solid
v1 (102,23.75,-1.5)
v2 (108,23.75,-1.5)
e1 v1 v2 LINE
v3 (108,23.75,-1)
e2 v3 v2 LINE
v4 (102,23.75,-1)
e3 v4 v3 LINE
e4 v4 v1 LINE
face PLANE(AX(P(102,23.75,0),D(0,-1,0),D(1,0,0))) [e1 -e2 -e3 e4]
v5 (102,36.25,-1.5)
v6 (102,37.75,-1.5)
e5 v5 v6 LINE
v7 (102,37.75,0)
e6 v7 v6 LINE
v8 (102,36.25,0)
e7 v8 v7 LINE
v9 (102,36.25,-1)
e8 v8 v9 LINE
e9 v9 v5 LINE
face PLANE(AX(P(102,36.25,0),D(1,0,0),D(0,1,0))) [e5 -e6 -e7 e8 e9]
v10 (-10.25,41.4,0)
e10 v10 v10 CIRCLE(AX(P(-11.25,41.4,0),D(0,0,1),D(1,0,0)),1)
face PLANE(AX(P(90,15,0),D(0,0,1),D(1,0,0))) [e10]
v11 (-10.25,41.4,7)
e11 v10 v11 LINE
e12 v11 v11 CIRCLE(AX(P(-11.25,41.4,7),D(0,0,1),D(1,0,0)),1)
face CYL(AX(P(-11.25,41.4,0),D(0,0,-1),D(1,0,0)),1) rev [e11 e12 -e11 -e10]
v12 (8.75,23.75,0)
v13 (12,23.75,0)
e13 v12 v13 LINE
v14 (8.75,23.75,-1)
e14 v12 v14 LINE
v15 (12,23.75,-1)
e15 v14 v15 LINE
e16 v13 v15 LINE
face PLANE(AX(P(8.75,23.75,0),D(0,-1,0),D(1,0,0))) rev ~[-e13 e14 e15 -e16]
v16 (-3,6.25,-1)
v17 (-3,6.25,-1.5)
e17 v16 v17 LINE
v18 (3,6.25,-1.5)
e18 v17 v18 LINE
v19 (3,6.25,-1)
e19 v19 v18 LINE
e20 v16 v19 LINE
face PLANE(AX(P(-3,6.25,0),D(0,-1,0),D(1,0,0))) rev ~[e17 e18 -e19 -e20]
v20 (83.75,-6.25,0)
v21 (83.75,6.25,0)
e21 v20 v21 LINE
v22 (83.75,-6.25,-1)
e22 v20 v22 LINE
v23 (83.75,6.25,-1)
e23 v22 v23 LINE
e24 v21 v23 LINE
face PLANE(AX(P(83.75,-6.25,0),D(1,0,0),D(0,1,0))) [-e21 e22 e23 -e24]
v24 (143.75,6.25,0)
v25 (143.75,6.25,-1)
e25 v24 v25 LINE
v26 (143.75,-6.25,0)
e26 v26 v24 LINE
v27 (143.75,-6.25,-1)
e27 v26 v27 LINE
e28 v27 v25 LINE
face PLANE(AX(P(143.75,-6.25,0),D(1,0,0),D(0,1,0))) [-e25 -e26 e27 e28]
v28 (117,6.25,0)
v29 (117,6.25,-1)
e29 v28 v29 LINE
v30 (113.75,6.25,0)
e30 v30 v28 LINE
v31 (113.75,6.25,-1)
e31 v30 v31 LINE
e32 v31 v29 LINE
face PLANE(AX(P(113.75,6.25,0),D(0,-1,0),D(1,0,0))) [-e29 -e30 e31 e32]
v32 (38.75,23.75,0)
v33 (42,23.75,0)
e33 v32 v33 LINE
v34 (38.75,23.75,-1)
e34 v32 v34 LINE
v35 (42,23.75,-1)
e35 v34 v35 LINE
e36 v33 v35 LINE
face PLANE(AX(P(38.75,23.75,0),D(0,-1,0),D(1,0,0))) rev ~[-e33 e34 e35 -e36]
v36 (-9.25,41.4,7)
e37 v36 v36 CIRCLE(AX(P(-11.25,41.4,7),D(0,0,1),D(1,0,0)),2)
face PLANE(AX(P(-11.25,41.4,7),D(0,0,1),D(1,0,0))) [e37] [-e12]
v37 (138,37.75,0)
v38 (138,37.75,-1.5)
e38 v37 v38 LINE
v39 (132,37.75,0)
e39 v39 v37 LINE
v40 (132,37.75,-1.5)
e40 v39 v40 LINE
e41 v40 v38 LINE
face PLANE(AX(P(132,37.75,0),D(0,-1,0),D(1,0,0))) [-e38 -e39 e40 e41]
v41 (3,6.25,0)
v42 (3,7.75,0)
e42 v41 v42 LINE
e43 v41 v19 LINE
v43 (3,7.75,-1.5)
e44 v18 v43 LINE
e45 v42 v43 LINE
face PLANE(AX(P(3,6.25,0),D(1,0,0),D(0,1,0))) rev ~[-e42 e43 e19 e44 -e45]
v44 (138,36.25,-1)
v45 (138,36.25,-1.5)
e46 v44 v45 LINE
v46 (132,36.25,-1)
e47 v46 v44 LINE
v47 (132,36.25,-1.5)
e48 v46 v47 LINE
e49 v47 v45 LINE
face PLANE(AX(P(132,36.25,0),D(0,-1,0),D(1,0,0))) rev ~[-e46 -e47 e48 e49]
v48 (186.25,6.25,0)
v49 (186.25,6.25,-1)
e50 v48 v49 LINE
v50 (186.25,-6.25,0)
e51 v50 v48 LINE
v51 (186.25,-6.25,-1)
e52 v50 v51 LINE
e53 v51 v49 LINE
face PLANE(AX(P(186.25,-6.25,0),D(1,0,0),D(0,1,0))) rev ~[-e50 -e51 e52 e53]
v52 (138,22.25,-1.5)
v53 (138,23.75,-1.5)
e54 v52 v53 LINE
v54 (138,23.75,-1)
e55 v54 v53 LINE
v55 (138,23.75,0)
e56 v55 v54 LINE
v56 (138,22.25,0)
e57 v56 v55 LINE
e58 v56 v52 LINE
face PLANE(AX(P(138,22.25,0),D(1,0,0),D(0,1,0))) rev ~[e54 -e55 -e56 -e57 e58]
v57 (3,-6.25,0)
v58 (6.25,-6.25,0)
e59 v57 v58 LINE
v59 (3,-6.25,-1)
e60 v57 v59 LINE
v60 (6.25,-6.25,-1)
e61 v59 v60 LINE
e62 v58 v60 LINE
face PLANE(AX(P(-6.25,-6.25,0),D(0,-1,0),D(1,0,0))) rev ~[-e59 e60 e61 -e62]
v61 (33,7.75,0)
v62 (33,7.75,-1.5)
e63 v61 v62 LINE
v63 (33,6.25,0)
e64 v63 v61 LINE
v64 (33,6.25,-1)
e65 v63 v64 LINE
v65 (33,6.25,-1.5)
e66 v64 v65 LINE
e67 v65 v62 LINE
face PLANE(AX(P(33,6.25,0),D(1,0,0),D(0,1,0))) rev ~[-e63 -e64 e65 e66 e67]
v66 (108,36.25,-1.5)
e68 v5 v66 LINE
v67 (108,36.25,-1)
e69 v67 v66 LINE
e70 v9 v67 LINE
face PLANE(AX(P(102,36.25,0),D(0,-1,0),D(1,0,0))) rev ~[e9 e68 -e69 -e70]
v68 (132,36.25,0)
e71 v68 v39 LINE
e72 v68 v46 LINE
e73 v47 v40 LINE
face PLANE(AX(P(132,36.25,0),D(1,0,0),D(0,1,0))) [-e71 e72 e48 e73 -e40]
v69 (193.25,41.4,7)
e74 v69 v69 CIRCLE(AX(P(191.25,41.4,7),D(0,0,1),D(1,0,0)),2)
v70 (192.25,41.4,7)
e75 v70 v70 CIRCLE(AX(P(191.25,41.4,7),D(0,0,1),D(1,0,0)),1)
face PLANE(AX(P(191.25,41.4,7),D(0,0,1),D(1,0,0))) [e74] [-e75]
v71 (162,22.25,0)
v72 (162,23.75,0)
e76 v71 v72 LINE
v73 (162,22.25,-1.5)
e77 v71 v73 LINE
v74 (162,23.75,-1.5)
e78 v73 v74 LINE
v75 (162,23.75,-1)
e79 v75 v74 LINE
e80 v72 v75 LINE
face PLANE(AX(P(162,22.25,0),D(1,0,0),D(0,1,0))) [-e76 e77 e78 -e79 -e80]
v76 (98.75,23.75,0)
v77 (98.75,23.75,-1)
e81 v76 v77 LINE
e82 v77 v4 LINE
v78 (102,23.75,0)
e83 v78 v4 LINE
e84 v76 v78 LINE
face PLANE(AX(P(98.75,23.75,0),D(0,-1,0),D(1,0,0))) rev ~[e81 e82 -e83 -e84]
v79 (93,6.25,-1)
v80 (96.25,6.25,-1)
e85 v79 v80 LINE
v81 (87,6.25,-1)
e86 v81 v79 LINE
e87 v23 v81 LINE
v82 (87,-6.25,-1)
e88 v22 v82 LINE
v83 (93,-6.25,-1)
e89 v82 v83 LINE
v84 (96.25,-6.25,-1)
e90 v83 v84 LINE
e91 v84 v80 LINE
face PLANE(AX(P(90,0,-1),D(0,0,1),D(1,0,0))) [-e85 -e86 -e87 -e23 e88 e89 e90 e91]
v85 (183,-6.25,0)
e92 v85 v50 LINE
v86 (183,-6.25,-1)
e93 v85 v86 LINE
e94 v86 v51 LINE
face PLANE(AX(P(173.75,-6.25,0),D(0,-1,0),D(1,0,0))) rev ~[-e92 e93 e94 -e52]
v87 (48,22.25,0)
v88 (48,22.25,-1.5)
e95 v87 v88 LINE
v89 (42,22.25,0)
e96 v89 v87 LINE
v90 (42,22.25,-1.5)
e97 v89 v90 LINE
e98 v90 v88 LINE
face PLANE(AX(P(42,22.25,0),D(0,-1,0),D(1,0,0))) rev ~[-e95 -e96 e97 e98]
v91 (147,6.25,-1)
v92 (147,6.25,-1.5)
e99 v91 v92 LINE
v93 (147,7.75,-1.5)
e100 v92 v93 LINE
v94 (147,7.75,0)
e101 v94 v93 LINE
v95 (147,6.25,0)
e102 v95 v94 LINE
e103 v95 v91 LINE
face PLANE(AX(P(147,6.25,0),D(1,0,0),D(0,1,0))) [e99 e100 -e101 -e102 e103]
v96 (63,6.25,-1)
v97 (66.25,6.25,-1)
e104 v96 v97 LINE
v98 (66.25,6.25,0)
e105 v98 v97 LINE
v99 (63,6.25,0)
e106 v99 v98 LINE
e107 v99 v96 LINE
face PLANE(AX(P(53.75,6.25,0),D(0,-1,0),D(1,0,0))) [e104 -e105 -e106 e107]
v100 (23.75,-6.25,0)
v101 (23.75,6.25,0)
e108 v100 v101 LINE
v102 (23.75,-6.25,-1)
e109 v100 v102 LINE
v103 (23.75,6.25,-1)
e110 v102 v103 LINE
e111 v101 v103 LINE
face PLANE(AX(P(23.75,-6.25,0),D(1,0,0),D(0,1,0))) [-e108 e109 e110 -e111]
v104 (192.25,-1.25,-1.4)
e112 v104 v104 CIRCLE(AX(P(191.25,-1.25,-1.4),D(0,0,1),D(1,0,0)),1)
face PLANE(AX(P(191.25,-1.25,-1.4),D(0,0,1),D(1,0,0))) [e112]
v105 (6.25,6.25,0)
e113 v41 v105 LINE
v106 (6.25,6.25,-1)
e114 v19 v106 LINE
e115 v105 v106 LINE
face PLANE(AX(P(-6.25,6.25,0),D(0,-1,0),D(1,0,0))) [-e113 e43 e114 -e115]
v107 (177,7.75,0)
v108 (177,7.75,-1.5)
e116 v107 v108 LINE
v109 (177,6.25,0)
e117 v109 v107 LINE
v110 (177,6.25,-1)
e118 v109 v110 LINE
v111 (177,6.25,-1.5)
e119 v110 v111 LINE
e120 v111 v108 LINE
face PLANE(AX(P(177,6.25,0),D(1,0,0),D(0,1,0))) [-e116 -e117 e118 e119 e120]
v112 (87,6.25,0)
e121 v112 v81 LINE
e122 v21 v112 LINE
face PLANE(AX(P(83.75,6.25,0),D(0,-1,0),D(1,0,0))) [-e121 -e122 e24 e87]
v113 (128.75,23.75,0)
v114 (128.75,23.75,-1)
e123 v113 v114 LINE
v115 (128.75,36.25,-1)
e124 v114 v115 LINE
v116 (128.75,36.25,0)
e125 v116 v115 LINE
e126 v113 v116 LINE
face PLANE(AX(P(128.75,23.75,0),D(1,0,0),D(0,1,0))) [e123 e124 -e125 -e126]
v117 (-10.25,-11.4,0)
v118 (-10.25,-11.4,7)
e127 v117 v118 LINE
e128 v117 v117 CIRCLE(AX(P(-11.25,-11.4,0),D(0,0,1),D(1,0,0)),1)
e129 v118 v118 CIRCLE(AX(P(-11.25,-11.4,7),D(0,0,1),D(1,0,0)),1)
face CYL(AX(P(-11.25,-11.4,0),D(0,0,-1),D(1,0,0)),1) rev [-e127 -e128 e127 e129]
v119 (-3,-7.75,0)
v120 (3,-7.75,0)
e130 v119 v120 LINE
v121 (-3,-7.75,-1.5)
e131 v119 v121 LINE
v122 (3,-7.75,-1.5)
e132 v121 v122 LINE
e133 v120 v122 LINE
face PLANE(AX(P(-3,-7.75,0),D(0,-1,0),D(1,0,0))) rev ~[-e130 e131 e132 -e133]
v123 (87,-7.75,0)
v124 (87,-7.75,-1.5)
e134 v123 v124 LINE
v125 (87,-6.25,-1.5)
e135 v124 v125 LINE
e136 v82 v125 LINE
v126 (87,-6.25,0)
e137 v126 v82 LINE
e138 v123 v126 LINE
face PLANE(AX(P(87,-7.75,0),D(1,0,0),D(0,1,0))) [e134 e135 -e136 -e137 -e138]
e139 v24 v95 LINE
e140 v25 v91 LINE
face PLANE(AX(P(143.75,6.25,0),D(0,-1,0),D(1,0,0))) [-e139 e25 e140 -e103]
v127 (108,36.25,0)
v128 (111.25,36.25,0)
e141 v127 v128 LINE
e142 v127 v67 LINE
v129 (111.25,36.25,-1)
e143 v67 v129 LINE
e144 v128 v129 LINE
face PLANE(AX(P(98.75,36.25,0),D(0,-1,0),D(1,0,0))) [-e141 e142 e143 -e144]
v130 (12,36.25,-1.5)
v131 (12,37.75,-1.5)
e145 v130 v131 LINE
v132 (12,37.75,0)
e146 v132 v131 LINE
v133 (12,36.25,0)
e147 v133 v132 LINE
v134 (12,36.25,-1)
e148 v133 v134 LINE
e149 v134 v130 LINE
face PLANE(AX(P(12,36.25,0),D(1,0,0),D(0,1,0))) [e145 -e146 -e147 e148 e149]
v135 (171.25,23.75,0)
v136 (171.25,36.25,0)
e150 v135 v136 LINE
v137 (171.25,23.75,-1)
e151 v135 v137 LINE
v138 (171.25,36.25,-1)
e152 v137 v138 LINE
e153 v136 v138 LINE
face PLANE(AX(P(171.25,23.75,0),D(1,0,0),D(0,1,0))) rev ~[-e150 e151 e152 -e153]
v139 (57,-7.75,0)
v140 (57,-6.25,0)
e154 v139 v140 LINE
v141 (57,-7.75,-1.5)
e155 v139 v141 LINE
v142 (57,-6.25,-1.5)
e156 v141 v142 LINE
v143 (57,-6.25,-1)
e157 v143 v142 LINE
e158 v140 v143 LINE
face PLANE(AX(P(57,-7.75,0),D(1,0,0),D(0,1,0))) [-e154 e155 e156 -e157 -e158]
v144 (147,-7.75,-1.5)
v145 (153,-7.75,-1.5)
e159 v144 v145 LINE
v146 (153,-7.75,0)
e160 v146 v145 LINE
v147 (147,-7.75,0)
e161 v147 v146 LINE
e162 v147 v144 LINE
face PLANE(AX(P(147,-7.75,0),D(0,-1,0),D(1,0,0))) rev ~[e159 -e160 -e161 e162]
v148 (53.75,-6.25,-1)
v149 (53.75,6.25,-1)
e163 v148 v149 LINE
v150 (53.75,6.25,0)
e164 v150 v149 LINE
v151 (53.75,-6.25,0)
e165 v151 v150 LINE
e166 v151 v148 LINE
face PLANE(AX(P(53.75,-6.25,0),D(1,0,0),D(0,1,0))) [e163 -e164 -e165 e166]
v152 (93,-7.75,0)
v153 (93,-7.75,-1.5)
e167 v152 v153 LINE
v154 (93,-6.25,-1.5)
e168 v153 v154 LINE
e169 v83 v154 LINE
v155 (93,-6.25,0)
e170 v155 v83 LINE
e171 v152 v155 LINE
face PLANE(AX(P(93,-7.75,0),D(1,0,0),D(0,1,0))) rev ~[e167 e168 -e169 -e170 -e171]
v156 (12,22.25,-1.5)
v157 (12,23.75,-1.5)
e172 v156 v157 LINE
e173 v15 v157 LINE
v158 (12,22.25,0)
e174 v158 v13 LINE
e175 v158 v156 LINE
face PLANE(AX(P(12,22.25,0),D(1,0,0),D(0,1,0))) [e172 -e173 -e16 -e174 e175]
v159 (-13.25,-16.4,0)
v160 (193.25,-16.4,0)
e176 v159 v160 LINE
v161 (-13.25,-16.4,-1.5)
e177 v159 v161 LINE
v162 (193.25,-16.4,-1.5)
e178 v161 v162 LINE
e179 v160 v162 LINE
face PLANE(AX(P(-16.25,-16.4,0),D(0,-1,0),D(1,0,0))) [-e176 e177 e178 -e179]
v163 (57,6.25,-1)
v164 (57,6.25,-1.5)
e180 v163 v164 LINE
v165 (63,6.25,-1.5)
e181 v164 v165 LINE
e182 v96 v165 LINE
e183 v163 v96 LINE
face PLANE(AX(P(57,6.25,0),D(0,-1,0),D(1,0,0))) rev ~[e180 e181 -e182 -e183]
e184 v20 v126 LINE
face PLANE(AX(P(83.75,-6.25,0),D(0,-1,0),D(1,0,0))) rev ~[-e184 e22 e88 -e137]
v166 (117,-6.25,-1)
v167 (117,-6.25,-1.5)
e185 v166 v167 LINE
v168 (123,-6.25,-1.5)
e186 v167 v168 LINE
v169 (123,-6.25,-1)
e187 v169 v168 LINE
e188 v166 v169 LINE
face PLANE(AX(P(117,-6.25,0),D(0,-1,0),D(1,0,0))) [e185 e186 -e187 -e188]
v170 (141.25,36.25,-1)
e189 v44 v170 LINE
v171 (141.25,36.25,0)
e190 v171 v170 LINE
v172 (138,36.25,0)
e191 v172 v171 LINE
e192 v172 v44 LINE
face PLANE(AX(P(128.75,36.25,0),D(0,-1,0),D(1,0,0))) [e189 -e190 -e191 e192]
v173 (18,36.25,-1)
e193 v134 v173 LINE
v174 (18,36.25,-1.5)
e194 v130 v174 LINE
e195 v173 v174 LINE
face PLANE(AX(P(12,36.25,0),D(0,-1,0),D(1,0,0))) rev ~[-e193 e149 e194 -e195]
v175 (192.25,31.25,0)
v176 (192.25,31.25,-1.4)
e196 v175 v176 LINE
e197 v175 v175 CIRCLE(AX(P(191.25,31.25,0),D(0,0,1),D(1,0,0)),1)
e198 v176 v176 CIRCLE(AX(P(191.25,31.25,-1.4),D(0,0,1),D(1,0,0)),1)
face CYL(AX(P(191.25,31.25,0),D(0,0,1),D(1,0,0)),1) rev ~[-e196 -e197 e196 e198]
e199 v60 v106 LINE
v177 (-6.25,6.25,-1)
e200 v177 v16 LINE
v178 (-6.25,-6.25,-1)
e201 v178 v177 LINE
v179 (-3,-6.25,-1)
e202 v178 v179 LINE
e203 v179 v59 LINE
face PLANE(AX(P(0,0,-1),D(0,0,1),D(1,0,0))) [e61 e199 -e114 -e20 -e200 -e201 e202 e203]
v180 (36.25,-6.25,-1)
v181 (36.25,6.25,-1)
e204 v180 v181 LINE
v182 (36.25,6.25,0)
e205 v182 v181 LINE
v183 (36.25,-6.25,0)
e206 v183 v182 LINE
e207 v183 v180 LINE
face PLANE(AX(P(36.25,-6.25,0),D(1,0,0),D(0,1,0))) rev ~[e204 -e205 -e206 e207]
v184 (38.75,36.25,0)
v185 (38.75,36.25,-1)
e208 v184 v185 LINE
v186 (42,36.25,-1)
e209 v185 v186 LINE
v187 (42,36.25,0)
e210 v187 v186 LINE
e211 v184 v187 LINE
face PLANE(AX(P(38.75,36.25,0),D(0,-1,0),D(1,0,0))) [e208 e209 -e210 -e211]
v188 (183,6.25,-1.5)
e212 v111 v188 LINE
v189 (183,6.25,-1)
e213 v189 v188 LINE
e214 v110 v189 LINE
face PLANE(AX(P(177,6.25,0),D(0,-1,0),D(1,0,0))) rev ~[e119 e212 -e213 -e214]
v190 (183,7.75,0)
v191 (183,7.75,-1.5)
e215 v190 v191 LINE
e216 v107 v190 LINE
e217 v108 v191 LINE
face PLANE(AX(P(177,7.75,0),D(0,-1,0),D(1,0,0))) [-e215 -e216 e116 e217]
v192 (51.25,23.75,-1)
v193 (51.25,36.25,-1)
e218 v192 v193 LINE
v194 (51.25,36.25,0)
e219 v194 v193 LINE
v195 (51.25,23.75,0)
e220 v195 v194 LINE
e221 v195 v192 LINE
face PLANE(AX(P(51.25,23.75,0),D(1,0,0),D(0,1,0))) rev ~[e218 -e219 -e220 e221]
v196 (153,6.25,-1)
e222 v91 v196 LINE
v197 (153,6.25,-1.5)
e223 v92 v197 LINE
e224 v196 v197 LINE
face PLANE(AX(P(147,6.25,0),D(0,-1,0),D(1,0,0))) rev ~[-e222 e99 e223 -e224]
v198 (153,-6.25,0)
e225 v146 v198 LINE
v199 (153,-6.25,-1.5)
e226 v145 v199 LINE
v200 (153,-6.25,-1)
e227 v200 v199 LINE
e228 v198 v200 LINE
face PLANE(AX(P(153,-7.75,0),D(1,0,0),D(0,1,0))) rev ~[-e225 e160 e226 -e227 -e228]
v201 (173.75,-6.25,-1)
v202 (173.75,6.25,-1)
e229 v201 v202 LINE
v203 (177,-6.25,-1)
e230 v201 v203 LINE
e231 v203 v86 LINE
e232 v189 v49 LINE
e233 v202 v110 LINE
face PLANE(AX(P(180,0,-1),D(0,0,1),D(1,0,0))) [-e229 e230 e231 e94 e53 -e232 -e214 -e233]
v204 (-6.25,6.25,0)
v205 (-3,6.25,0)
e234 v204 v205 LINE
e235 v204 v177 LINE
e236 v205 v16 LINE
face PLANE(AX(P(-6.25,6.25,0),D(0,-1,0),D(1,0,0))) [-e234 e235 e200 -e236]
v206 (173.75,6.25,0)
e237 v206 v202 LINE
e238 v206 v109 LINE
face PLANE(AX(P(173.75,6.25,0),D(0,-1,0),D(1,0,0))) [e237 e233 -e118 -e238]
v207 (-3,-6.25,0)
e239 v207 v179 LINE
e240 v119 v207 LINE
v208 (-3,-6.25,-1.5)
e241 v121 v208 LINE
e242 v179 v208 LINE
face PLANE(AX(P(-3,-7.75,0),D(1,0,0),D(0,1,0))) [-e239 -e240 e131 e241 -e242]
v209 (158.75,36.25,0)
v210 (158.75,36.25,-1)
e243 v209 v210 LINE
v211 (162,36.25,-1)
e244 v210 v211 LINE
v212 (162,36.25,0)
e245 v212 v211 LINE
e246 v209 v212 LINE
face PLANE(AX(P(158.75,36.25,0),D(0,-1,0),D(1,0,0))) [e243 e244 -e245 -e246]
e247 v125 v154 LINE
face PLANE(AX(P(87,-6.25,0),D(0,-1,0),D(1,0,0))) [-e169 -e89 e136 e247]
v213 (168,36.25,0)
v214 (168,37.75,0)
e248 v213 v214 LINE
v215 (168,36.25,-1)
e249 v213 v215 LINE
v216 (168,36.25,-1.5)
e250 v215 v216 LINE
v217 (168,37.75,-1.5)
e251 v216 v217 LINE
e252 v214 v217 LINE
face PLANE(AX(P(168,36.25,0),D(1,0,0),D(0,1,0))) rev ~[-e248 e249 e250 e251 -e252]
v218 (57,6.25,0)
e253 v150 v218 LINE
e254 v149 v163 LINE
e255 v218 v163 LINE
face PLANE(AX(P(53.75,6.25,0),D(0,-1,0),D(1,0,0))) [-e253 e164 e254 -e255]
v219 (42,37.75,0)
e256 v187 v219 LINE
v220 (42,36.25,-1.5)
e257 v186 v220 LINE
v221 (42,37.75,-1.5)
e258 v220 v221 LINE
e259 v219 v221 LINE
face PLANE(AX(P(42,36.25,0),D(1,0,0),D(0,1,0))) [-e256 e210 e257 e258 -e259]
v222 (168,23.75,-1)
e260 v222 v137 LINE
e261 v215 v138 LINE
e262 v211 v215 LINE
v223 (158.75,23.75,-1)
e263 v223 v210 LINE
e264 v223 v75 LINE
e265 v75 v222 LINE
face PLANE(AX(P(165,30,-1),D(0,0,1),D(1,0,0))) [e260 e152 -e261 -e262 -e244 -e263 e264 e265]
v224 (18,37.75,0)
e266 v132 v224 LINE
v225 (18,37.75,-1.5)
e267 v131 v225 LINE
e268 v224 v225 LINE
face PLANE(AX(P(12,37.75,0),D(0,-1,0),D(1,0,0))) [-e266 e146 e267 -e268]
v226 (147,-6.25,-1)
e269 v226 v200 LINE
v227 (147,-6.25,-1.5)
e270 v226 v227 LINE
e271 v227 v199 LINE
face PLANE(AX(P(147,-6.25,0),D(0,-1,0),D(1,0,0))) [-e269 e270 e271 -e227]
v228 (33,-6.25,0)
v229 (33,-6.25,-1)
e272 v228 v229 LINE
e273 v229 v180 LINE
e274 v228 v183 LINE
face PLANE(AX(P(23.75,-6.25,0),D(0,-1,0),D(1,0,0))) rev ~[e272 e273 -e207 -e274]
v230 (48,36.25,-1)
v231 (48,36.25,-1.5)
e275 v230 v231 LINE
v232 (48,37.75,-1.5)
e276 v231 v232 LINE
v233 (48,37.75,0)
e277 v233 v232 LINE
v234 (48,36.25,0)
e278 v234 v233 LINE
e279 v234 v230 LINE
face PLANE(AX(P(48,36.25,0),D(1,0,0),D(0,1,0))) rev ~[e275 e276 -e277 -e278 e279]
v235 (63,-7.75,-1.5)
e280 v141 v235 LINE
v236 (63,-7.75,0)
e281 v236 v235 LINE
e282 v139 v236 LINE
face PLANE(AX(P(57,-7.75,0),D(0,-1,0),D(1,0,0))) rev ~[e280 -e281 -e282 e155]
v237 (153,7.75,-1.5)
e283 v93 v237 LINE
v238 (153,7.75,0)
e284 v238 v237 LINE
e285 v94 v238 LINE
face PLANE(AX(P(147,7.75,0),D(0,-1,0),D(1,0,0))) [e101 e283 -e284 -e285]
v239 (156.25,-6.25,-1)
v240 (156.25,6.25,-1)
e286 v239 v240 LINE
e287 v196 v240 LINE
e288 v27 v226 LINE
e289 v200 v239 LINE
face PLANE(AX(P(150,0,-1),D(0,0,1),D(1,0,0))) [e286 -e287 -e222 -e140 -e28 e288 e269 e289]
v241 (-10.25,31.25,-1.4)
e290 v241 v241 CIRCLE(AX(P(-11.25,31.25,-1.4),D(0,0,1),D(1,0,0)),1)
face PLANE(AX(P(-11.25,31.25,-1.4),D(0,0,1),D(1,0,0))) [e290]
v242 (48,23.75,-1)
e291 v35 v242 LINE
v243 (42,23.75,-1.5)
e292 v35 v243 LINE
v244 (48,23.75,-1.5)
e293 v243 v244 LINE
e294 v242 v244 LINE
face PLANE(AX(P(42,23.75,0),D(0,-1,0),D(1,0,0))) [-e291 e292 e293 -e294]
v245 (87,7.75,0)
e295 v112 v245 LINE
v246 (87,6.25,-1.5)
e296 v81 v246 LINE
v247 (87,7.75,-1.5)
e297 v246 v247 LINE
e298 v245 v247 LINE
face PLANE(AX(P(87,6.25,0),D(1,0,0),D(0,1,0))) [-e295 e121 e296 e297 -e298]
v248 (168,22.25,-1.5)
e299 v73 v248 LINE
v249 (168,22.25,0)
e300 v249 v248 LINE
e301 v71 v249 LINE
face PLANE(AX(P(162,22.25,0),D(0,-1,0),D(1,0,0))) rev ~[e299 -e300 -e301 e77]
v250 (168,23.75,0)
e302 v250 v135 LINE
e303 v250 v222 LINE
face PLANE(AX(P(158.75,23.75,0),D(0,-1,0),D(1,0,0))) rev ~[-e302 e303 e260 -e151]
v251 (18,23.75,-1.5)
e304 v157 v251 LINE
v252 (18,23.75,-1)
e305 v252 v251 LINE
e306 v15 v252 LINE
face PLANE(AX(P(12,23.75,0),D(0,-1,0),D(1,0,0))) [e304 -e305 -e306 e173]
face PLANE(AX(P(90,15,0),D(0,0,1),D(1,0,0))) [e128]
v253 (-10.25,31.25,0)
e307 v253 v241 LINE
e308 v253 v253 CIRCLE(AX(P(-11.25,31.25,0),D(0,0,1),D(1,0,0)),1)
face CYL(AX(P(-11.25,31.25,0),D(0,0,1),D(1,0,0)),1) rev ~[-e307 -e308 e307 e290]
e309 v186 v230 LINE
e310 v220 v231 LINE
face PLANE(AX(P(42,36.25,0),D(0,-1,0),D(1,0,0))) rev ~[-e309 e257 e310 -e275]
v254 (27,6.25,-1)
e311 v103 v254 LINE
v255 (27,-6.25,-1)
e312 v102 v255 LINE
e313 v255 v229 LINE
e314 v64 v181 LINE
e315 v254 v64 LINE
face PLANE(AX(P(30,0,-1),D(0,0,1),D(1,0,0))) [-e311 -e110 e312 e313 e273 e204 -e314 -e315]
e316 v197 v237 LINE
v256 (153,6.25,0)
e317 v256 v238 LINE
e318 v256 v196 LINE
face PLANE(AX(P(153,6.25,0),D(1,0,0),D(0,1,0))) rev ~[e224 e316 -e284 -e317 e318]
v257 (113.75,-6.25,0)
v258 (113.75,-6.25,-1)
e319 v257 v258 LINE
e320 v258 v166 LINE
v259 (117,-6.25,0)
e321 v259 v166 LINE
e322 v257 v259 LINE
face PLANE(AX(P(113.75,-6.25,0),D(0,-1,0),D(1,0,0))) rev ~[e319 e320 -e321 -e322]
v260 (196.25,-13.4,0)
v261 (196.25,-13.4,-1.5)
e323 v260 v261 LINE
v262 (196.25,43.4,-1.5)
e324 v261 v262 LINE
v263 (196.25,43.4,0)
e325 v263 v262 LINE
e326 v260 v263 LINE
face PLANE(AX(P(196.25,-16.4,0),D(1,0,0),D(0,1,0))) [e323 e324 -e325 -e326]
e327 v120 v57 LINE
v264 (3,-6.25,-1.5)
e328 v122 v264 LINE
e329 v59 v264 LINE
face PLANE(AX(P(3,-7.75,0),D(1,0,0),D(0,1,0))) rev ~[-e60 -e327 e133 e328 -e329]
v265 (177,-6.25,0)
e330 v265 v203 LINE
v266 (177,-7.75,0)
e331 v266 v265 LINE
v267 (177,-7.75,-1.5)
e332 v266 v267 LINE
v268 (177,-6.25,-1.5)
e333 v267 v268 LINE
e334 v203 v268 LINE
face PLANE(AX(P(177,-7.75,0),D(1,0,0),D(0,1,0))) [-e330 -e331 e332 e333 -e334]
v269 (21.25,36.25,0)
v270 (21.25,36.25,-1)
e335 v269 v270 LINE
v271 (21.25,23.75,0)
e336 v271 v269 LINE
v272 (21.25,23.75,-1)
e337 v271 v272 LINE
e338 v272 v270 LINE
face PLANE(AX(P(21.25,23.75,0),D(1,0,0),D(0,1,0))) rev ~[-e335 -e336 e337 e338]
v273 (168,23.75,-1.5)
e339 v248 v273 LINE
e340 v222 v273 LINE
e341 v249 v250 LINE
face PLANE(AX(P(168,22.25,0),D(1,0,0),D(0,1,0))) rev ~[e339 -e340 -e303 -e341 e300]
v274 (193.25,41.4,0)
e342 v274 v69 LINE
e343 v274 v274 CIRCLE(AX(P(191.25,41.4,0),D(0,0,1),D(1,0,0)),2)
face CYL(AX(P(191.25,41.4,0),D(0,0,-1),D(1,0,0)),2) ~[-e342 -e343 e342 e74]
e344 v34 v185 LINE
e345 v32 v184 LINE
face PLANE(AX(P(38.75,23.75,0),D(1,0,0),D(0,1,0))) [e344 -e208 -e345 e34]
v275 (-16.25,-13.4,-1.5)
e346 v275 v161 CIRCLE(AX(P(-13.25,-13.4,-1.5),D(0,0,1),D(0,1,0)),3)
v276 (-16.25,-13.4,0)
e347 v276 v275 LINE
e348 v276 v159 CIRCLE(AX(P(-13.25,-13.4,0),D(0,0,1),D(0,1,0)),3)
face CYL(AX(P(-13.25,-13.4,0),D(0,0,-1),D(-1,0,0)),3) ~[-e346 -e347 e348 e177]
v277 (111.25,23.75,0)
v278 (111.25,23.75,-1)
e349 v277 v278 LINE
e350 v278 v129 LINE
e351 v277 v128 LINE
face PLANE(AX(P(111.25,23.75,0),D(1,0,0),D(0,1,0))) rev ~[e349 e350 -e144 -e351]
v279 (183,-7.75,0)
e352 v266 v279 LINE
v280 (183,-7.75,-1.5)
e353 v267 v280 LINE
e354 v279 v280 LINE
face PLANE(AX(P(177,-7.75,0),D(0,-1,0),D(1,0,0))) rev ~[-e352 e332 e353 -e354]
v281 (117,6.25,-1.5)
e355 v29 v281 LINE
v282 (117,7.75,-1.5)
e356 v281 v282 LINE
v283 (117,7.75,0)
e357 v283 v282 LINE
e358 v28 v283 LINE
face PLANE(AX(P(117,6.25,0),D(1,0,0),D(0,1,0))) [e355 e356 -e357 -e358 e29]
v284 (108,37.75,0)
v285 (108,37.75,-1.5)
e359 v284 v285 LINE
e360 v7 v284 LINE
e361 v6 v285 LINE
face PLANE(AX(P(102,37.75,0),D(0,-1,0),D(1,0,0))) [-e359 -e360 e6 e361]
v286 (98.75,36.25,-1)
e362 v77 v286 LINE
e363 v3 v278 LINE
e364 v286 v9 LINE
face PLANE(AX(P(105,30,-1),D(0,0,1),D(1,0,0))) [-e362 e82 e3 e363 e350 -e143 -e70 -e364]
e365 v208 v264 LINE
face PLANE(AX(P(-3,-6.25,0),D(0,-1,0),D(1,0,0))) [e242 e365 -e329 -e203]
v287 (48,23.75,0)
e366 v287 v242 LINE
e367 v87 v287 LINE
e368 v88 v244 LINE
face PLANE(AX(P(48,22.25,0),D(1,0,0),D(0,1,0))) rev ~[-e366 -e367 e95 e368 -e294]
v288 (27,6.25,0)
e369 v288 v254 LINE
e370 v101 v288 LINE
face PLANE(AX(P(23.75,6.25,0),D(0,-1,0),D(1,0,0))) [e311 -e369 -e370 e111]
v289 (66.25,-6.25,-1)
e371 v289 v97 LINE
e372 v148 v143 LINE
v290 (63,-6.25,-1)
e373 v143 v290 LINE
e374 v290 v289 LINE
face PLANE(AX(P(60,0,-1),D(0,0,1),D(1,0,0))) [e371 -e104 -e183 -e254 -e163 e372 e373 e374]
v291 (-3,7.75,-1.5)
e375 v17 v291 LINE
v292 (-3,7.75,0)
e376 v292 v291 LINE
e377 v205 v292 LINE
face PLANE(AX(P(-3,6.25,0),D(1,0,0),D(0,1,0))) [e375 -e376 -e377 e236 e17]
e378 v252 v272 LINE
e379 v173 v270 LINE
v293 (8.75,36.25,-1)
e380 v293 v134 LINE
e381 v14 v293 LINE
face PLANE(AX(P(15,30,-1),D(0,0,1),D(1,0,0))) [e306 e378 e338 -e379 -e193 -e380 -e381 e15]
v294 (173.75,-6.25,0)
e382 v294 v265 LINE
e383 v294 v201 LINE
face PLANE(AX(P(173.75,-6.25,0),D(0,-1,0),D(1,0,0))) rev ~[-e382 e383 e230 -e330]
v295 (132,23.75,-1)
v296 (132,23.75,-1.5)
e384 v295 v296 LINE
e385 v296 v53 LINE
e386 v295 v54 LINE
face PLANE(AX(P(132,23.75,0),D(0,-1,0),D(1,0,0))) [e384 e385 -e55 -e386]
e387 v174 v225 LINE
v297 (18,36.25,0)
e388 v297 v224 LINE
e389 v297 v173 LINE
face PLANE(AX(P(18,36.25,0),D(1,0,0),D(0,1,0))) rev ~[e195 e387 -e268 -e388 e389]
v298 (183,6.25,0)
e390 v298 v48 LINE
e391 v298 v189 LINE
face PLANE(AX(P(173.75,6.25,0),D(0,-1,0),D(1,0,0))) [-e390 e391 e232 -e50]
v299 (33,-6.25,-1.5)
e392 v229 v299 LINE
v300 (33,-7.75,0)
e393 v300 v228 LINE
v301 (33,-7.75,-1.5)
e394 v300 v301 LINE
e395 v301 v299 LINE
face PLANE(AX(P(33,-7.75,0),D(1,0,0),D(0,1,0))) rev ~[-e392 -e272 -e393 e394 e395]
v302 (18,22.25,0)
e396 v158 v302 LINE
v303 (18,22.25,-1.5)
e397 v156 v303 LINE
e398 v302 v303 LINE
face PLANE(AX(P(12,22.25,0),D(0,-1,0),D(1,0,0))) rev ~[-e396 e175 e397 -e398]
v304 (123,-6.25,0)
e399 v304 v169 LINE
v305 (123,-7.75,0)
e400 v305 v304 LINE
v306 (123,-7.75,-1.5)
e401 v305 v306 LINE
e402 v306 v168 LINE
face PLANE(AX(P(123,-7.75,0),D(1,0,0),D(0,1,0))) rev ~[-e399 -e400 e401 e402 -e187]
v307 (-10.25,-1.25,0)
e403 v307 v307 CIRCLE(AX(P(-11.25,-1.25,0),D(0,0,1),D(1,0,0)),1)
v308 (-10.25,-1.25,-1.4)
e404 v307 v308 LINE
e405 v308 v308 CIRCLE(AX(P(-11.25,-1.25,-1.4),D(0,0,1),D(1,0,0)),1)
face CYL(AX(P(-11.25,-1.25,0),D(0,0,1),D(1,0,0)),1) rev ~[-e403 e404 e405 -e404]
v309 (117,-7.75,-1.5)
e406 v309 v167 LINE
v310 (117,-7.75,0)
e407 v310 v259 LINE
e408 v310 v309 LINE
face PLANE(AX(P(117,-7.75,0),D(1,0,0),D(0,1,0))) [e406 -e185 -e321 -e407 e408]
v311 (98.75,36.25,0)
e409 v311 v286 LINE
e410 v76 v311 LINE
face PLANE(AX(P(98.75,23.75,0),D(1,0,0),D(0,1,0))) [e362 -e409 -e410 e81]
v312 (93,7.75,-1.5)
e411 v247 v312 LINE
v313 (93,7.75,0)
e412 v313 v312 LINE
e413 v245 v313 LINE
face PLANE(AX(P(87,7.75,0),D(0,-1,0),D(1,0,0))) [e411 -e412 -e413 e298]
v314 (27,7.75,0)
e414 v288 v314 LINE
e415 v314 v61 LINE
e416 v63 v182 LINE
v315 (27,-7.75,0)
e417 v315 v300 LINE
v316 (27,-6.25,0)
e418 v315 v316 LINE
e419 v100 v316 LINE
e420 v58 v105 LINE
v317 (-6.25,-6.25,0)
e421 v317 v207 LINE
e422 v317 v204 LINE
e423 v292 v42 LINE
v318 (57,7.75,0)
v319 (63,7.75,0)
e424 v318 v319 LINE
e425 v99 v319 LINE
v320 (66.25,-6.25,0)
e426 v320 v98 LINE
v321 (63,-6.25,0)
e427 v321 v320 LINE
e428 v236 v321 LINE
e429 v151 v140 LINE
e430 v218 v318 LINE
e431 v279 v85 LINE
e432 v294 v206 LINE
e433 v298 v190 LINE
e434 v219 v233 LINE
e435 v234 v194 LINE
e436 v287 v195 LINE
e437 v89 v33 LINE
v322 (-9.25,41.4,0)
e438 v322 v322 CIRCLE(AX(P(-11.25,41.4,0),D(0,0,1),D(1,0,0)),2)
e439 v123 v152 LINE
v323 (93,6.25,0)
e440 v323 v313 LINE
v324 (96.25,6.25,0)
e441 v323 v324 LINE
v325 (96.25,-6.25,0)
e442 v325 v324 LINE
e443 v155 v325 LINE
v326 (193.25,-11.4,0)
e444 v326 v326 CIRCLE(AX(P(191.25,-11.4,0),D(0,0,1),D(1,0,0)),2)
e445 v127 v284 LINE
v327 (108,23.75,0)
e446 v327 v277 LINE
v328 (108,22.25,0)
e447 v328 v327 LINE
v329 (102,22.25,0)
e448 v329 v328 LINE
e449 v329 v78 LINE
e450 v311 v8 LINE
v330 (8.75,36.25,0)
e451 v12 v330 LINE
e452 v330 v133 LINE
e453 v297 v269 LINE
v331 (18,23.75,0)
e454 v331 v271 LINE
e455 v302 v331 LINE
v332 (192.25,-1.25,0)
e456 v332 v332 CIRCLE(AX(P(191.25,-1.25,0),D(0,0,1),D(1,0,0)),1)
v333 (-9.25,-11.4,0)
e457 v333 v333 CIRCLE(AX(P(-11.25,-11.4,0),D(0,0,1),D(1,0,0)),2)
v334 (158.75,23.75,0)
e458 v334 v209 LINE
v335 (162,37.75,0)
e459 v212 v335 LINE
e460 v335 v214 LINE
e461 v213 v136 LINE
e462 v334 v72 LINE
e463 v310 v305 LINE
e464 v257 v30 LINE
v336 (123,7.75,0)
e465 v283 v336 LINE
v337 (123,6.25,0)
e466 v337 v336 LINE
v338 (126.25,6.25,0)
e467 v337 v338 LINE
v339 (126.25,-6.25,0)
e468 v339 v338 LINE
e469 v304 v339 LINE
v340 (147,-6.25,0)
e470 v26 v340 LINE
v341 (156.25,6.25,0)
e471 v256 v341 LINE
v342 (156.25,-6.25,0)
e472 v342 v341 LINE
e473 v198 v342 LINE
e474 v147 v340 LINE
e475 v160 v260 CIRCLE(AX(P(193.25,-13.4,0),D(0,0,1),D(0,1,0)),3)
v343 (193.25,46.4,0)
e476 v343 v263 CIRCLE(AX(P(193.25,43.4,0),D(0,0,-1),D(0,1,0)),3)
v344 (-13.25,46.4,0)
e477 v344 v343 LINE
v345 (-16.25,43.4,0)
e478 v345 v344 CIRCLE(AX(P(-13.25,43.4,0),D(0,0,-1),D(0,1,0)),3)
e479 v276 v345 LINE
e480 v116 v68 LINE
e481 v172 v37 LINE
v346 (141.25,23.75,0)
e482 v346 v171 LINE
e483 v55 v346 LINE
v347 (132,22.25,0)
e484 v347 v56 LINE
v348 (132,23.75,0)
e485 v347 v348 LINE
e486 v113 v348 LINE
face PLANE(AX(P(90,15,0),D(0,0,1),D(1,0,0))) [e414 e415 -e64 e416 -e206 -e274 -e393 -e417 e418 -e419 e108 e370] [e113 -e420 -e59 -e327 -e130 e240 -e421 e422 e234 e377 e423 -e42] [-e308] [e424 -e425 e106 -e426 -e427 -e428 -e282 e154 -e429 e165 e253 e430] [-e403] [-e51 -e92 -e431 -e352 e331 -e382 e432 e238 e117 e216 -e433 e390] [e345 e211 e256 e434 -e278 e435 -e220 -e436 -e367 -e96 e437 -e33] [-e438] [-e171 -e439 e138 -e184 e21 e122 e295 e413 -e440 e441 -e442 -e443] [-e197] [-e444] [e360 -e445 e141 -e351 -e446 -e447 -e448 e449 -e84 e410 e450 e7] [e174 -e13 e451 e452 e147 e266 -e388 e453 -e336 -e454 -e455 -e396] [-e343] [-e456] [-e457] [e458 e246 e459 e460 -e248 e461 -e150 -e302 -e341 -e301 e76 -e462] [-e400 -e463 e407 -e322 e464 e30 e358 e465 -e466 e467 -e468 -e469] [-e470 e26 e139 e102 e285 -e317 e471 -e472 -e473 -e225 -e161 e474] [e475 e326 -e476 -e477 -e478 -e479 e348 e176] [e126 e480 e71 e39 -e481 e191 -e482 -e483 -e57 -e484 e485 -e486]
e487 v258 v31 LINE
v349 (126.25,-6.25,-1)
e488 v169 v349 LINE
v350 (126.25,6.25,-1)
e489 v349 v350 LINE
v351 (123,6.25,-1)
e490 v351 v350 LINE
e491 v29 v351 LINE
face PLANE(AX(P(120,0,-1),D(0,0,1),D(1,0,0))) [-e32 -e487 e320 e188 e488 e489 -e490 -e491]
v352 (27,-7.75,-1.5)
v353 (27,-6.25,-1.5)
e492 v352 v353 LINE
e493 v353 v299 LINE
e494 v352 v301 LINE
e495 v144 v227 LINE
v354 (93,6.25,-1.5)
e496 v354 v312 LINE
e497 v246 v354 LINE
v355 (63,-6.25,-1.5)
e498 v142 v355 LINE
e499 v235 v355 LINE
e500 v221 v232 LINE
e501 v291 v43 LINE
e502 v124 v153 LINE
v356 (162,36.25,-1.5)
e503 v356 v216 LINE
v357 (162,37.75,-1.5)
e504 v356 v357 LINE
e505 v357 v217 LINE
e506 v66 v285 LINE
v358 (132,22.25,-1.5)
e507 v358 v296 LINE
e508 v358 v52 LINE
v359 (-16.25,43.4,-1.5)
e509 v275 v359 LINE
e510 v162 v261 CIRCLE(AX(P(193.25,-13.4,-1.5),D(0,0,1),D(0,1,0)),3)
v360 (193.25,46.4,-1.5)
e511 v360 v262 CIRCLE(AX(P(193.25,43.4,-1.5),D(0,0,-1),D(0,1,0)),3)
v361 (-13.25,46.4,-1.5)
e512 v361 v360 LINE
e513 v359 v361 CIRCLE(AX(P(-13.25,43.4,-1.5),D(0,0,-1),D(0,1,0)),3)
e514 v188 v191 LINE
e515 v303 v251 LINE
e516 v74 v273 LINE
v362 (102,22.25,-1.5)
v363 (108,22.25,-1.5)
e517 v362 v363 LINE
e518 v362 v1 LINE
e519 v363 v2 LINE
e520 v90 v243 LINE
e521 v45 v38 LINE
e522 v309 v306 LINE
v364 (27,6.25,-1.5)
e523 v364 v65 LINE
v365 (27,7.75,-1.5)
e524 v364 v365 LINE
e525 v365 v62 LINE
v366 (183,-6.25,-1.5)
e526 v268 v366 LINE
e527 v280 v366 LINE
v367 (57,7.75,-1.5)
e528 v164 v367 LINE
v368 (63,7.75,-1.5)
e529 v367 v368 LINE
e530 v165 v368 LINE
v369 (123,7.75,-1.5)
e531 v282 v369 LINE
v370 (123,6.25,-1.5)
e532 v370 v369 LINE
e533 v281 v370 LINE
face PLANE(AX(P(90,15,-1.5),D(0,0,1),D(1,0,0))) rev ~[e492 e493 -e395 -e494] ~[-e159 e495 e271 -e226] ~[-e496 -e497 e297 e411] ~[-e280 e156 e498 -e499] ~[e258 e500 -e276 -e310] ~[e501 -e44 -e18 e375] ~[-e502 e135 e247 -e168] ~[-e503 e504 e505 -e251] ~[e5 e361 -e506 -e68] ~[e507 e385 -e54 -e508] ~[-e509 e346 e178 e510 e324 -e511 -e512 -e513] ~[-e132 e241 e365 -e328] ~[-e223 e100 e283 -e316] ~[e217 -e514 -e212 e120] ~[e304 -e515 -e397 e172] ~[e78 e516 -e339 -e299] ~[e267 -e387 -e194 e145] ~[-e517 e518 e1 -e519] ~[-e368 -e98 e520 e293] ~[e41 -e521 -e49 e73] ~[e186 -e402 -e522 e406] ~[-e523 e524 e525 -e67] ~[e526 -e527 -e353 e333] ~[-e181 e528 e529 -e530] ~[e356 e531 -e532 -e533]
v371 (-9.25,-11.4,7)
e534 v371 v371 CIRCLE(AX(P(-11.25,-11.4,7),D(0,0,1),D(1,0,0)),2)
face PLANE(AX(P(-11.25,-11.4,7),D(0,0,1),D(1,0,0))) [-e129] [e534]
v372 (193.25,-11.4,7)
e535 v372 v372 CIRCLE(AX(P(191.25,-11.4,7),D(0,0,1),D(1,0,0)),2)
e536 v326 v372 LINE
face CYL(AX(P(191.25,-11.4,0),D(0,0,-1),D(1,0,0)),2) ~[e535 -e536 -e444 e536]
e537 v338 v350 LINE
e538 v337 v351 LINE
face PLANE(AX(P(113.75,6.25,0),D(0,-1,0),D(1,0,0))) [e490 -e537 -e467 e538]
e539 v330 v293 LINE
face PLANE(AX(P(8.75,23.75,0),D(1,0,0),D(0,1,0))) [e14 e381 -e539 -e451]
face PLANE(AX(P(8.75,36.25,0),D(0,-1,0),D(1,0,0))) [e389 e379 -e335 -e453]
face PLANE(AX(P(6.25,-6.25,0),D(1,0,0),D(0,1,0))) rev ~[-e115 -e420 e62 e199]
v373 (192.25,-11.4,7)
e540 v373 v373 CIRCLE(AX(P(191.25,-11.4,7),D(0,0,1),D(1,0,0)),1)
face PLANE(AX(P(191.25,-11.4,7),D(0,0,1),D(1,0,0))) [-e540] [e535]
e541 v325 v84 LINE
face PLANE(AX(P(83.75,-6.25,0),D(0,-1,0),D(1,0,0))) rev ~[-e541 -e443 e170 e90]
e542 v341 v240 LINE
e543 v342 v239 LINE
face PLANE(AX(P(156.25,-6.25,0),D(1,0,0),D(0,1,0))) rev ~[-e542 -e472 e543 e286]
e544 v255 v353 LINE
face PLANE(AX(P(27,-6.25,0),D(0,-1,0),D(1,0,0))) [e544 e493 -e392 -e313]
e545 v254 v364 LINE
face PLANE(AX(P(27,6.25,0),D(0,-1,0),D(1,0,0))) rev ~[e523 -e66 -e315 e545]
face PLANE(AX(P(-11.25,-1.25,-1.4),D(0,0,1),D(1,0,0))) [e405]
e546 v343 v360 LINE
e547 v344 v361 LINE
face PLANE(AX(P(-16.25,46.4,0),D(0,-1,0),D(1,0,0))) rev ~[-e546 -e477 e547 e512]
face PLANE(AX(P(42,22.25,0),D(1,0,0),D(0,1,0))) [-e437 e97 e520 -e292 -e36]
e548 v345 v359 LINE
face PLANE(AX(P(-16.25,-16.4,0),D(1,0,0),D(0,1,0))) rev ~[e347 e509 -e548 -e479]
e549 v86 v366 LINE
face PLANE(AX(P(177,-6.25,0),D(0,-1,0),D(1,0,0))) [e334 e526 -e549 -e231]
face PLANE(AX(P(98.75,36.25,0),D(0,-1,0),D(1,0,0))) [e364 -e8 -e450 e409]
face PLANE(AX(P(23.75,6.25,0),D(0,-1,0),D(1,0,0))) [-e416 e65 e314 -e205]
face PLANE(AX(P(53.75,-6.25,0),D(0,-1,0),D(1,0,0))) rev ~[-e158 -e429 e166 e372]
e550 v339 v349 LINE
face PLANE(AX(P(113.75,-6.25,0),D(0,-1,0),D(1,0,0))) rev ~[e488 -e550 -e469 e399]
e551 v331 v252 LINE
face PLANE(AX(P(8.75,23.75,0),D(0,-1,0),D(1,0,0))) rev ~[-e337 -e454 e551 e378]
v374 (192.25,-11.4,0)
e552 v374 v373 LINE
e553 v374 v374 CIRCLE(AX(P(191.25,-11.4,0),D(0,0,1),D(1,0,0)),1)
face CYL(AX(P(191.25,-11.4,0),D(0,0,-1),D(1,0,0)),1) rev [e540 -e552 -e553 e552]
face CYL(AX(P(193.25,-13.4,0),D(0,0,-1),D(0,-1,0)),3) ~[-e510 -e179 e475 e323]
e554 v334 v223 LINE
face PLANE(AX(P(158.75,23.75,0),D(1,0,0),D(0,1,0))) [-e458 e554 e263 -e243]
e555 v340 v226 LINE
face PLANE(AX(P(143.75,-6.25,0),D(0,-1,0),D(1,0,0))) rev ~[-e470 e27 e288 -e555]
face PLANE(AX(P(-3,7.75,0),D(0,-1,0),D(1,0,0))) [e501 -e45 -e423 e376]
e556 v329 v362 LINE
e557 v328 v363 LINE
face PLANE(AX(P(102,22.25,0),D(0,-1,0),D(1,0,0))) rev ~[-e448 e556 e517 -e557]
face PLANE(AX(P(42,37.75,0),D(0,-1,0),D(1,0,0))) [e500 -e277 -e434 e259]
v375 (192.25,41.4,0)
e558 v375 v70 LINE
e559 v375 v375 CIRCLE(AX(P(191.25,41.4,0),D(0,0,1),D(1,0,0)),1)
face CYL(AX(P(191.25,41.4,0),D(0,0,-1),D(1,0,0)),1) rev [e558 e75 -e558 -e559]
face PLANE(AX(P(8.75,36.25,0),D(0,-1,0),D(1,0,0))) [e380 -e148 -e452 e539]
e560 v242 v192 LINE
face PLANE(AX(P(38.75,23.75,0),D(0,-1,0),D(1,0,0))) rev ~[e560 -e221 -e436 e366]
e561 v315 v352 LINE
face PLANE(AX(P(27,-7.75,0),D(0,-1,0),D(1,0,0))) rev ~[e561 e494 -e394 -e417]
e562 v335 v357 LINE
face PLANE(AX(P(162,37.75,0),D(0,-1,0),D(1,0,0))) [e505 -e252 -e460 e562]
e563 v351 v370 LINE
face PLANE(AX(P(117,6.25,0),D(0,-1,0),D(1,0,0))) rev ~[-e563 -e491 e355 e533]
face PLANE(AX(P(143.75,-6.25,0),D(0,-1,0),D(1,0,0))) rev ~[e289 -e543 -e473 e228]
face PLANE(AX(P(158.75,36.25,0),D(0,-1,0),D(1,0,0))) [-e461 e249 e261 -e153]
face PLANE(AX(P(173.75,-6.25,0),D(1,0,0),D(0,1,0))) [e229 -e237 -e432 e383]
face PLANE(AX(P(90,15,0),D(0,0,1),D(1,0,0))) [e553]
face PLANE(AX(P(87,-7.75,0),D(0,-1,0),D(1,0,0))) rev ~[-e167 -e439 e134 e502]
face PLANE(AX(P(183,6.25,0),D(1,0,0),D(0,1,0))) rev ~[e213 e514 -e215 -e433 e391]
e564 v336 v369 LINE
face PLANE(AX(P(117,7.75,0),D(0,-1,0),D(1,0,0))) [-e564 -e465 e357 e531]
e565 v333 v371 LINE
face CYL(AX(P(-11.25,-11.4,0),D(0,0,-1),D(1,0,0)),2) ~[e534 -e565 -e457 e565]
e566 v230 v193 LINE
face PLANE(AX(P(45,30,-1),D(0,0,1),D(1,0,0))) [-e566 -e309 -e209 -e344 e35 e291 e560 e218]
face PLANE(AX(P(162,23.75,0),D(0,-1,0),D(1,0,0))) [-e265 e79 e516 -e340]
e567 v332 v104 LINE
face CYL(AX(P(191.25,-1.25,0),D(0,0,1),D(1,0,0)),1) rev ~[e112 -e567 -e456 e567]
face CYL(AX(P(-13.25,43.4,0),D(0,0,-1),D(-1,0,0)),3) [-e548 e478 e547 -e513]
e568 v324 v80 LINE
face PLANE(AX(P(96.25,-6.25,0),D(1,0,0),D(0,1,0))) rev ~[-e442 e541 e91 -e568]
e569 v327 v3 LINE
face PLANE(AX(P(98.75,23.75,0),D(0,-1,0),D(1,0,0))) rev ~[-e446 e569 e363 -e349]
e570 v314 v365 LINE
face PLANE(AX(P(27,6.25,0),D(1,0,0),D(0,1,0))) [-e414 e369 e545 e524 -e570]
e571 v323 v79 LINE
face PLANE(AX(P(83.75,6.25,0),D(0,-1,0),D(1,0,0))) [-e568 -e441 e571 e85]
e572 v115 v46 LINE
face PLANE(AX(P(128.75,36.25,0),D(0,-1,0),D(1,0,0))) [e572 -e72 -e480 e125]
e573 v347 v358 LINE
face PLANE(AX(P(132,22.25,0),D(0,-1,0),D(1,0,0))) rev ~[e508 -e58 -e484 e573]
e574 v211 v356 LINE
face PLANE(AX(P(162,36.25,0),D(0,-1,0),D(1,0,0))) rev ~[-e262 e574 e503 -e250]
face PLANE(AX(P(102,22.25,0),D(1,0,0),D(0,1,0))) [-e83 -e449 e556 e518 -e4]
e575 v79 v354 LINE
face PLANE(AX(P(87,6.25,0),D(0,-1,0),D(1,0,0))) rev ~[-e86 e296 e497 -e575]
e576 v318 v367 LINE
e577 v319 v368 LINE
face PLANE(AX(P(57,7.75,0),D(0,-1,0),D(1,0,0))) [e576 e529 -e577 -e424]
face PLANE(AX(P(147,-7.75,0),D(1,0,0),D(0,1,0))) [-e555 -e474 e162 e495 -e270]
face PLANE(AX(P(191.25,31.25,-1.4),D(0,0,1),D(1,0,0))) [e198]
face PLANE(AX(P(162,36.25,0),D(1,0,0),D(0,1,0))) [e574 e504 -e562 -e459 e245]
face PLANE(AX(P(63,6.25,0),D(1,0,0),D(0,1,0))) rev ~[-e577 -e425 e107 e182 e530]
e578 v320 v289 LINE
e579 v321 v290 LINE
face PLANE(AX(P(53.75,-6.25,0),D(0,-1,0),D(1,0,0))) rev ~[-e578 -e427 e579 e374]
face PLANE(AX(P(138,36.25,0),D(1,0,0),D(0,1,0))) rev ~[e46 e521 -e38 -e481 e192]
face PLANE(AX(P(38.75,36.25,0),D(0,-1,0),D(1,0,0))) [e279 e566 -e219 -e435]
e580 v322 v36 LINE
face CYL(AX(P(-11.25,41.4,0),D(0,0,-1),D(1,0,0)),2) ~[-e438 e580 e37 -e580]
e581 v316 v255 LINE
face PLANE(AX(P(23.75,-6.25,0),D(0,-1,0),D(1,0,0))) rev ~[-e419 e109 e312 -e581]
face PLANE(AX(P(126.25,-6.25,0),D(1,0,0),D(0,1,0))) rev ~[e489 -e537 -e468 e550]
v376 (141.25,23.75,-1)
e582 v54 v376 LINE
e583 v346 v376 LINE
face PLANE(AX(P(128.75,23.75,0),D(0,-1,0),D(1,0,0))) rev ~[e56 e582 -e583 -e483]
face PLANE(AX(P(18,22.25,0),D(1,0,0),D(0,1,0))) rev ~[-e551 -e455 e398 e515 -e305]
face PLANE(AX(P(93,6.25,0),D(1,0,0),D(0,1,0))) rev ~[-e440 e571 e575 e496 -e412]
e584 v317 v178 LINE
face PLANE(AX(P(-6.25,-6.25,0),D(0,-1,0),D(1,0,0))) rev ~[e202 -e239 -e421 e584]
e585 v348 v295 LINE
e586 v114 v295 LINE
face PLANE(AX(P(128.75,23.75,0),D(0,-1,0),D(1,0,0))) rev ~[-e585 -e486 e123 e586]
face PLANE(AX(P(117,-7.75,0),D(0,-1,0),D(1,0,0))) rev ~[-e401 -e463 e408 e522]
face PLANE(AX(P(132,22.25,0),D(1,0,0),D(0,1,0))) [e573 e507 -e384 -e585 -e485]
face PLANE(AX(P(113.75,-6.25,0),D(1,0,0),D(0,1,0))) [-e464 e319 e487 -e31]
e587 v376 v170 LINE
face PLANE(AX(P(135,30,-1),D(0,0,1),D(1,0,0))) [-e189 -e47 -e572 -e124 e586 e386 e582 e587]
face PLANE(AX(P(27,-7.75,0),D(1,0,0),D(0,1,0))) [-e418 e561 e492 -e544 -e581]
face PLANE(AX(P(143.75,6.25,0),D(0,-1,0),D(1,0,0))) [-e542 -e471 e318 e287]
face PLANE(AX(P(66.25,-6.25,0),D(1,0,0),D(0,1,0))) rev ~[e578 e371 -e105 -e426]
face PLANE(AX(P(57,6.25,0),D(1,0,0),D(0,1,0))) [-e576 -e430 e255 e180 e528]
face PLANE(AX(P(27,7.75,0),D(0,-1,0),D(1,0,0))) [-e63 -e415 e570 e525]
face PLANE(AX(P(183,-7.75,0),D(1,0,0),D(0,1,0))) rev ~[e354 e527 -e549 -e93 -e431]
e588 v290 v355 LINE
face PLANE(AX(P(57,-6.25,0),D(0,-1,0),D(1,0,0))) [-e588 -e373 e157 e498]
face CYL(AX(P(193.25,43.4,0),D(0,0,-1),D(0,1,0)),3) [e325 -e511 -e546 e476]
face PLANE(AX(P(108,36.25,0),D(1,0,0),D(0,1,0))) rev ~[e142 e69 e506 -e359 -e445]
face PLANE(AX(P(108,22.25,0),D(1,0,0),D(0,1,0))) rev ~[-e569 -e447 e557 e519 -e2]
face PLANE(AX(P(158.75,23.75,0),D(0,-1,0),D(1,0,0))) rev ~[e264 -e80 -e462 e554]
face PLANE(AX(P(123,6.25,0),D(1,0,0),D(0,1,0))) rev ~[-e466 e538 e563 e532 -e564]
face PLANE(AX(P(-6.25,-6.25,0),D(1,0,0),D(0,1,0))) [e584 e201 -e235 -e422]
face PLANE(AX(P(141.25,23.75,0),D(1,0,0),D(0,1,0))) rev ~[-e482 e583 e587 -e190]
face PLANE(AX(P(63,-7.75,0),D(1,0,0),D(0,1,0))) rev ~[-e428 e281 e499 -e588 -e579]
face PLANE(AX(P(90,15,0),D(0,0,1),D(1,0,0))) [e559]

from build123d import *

# Parameters (mm, degrees)
SKETCH001_W     = 212.5
SKETCH001_H     = 62.8
PAD_DEPTH       = 1.5
SKETCH_W        = 12.5
SKETCH_H        = 12.5
POCKET_DEPTH    = 1
SKETCH002_W     = 6
SKETCH002_H     = 1.5
POCKET001_DEPTH = 1.501
SKETCH003_R     = 2
SKETCH003_R_2   = 1
PAD001_DEPTH    = 7
SKETCH004_R     = 1
POCKET002_DEPTH = 1.4
FILLET_R        = 3


with BuildPart() as part:
    # Sketch001 → Pad (new body)
    with BuildSketch(Plane.XY):
        with Locations((90, 15)):
            Rectangle(SKETCH001_W, SKETCH001_H)
    extrude(amount=-PAD_DEPTH)

    # Sketch → Pocket (cut)
    with BuildSketch(Plane.XY):
        Rectangle(SKETCH_W, SKETCH_H)
        with Locations((30, 0)):
            Rectangle(SKETCH_W, SKETCH_H)
        with Locations((60, 0)):
            Rectangle(SKETCH_W, SKETCH_H)
        with Locations((90, 0)):
            Rectangle(SKETCH_W, SKETCH_H)
        with Locations((120, 0)):
            Rectangle(SKETCH_W, SKETCH_H)
        with Locations((150, 0)):
            Rectangle(SKETCH_W, SKETCH_H)
        with Locations((180, 0)):
            Rectangle(SKETCH_W, SKETCH_H)
        with Locations((15, 30)):
            Rectangle(SKETCH_W, SKETCH_H)
        with Locations((45, 30)):
            Rectangle(SKETCH_W, SKETCH_H)
        with Locations((105, 30)):
            Rectangle(SKETCH_W, SKETCH_H)
        with Locations((135, 30)):
            Rectangle(SKETCH_W, SKETCH_H)
        with Locations((165, 30)):
            Rectangle(SKETCH_W, SKETCH_H)
    extrude(amount=-POCKET_DEPTH, mode=Mode.SUBTRACT)

    # Sketch002 (on Face4 of Pocket) → Pocket001 (cut, through all)
    with BuildSketch(Plane.XY):
        with Locations((180, 7)):
            Rectangle(SKETCH002_W, SKETCH002_H)
        with Locations((180, -7)):
            Rectangle(SKETCH002_W, SKETCH002_H)
        with Locations((150, -7)):
            Rectangle(SKETCH002_W, SKETCH002_H)
        with Locations((150, 7)):
            Rectangle(SKETCH002_W, SKETCH002_H)
        with Locations((120, -7)):
            Rectangle(SKETCH002_W, SKETCH002_H)
        with Locations((120, 7)):
            Rectangle(SKETCH002_W, SKETCH002_H)
        with Locations((90, -7)):
            Rectangle(SKETCH002_W, SKETCH002_H)
        with Locations((90, 7)):
            Rectangle(SKETCH002_W, SKETCH002_H)
        with Locations((60, -7)):
            Rectangle(SKETCH002_W, SKETCH002_H)
        with Locations((60, 7)):
            Rectangle(SKETCH002_W, SKETCH002_H)
        with Locations((90, -7)):
            Rectangle(SKETCH002_W, SKETCH002_H)
        with Locations((90, 7)):
            Rectangle(SKETCH002_W, SKETCH002_H)
        with Locations((60, -7)):
            Rectangle(SKETCH002_W, SKETCH002_H)
        with Locations((60, 7)):
            Rectangle(SKETCH002_W, SKETCH002_H)
        with Locations((165, 37)):
            Rectangle(SKETCH002_W, SKETCH002_H)
        with Locations((165, 23)):
            Rectangle(SKETCH002_W, SKETCH002_H)
        with Locations((135, 37)):
            Rectangle(SKETCH002_W, SKETCH002_H)
        with Locations((135, 23)):
            Rectangle(SKETCH002_W, SKETCH002_H)
        with Locations((30, 7)):
            Rectangle(SKETCH002_W, SKETCH002_H)
        with Locations((30, -7)):
            Rectangle(SKETCH002_W, SKETCH002_H)
        with Locations((0, 7)):
            Rectangle(SKETCH002_W, SKETCH002_H)
        with Locations((0, -7)):
            Rectangle(SKETCH002_W, SKETCH002_H)
        with Locations((105, 37)):
            Rectangle(SKETCH002_W, SKETCH002_H)
        with Locations((105, 23)):
            Rectangle(SKETCH002_W, SKETCH002_H)
        with Locations((45, 37)):
            Rectangle(SKETCH002_W, SKETCH002_H)
        with Locations((45, 23)):
            Rectangle(SKETCH002_W, SKETCH002_H)
        with Locations((15, 23)):
            Rectangle(SKETCH002_W, SKETCH002_H)
        with Locations((15, 37)):
            Rectangle(SKETCH002_W, SKETCH002_H)
    extrude(amount=-POCKET001_DEPTH, mode=Mode.SUBTRACT)

    # Sketch003 (on Face4 of Pocket001) → Pad001 (join)
    with BuildSketch(Plane.XY):
        with Locations((-11.25, 41.4)):
            Circle(SKETCH003_R)
        with Locations((-11.25, 41.4)):
            Circle(SKETCH003_R_2, mode=Mode.SUBTRACT)
        with Locations((-11.25, -11.4)):
            Circle(SKETCH003_R)
        with Locations((-11.25, -11.4)):
            Circle(SKETCH003_R_2, mode=Mode.SUBTRACT)
        with Locations((191.25, -11.4)):
            Circle(SKETCH003_R)
        with Locations((191.25, -11.4)):
            Circle(SKETCH003_R_2, mode=Mode.SUBTRACT)
        with Locations((191.25, 41.4)):
            Circle(SKETCH003_R)
        with Locations((191.25, 41.4)):
            Circle(SKETCH003_R_2, mode=Mode.SUBTRACT)
    extrude(amount=PAD001_DEPTH)

    # Sketch004 (on Face4 of Pad001) → Pocket002 (cut)
    with BuildSketch(Plane.XY):
        with Locations((-11.25, -1.25)):
            Circle(SKETCH004_R)
        with Locations((-11.25, 31.25)):
            Circle(SKETCH004_R)
        with Locations((191.25, 31.25)):
            Circle(SKETCH004_R)
        with Locations((191.25, -1.25)):
            Circle(SKETCH004_R)
    extrude(amount=-POCKET002_DEPTH, mode=Mode.SUBTRACT)

    # Fillet
    fillet_edges = [part.edges().sort_by_distance(p)[0] for p in [
        (196.25, 46.4, -0.75),
        (196.25, -16.4, -0.75),
        (-16.25, -16.4, -0.75),
        (-16.25, 46.4, -0.75),
    ]]
    fillet(fillet_edges, radius=FILLET_R)


solid = part.part
